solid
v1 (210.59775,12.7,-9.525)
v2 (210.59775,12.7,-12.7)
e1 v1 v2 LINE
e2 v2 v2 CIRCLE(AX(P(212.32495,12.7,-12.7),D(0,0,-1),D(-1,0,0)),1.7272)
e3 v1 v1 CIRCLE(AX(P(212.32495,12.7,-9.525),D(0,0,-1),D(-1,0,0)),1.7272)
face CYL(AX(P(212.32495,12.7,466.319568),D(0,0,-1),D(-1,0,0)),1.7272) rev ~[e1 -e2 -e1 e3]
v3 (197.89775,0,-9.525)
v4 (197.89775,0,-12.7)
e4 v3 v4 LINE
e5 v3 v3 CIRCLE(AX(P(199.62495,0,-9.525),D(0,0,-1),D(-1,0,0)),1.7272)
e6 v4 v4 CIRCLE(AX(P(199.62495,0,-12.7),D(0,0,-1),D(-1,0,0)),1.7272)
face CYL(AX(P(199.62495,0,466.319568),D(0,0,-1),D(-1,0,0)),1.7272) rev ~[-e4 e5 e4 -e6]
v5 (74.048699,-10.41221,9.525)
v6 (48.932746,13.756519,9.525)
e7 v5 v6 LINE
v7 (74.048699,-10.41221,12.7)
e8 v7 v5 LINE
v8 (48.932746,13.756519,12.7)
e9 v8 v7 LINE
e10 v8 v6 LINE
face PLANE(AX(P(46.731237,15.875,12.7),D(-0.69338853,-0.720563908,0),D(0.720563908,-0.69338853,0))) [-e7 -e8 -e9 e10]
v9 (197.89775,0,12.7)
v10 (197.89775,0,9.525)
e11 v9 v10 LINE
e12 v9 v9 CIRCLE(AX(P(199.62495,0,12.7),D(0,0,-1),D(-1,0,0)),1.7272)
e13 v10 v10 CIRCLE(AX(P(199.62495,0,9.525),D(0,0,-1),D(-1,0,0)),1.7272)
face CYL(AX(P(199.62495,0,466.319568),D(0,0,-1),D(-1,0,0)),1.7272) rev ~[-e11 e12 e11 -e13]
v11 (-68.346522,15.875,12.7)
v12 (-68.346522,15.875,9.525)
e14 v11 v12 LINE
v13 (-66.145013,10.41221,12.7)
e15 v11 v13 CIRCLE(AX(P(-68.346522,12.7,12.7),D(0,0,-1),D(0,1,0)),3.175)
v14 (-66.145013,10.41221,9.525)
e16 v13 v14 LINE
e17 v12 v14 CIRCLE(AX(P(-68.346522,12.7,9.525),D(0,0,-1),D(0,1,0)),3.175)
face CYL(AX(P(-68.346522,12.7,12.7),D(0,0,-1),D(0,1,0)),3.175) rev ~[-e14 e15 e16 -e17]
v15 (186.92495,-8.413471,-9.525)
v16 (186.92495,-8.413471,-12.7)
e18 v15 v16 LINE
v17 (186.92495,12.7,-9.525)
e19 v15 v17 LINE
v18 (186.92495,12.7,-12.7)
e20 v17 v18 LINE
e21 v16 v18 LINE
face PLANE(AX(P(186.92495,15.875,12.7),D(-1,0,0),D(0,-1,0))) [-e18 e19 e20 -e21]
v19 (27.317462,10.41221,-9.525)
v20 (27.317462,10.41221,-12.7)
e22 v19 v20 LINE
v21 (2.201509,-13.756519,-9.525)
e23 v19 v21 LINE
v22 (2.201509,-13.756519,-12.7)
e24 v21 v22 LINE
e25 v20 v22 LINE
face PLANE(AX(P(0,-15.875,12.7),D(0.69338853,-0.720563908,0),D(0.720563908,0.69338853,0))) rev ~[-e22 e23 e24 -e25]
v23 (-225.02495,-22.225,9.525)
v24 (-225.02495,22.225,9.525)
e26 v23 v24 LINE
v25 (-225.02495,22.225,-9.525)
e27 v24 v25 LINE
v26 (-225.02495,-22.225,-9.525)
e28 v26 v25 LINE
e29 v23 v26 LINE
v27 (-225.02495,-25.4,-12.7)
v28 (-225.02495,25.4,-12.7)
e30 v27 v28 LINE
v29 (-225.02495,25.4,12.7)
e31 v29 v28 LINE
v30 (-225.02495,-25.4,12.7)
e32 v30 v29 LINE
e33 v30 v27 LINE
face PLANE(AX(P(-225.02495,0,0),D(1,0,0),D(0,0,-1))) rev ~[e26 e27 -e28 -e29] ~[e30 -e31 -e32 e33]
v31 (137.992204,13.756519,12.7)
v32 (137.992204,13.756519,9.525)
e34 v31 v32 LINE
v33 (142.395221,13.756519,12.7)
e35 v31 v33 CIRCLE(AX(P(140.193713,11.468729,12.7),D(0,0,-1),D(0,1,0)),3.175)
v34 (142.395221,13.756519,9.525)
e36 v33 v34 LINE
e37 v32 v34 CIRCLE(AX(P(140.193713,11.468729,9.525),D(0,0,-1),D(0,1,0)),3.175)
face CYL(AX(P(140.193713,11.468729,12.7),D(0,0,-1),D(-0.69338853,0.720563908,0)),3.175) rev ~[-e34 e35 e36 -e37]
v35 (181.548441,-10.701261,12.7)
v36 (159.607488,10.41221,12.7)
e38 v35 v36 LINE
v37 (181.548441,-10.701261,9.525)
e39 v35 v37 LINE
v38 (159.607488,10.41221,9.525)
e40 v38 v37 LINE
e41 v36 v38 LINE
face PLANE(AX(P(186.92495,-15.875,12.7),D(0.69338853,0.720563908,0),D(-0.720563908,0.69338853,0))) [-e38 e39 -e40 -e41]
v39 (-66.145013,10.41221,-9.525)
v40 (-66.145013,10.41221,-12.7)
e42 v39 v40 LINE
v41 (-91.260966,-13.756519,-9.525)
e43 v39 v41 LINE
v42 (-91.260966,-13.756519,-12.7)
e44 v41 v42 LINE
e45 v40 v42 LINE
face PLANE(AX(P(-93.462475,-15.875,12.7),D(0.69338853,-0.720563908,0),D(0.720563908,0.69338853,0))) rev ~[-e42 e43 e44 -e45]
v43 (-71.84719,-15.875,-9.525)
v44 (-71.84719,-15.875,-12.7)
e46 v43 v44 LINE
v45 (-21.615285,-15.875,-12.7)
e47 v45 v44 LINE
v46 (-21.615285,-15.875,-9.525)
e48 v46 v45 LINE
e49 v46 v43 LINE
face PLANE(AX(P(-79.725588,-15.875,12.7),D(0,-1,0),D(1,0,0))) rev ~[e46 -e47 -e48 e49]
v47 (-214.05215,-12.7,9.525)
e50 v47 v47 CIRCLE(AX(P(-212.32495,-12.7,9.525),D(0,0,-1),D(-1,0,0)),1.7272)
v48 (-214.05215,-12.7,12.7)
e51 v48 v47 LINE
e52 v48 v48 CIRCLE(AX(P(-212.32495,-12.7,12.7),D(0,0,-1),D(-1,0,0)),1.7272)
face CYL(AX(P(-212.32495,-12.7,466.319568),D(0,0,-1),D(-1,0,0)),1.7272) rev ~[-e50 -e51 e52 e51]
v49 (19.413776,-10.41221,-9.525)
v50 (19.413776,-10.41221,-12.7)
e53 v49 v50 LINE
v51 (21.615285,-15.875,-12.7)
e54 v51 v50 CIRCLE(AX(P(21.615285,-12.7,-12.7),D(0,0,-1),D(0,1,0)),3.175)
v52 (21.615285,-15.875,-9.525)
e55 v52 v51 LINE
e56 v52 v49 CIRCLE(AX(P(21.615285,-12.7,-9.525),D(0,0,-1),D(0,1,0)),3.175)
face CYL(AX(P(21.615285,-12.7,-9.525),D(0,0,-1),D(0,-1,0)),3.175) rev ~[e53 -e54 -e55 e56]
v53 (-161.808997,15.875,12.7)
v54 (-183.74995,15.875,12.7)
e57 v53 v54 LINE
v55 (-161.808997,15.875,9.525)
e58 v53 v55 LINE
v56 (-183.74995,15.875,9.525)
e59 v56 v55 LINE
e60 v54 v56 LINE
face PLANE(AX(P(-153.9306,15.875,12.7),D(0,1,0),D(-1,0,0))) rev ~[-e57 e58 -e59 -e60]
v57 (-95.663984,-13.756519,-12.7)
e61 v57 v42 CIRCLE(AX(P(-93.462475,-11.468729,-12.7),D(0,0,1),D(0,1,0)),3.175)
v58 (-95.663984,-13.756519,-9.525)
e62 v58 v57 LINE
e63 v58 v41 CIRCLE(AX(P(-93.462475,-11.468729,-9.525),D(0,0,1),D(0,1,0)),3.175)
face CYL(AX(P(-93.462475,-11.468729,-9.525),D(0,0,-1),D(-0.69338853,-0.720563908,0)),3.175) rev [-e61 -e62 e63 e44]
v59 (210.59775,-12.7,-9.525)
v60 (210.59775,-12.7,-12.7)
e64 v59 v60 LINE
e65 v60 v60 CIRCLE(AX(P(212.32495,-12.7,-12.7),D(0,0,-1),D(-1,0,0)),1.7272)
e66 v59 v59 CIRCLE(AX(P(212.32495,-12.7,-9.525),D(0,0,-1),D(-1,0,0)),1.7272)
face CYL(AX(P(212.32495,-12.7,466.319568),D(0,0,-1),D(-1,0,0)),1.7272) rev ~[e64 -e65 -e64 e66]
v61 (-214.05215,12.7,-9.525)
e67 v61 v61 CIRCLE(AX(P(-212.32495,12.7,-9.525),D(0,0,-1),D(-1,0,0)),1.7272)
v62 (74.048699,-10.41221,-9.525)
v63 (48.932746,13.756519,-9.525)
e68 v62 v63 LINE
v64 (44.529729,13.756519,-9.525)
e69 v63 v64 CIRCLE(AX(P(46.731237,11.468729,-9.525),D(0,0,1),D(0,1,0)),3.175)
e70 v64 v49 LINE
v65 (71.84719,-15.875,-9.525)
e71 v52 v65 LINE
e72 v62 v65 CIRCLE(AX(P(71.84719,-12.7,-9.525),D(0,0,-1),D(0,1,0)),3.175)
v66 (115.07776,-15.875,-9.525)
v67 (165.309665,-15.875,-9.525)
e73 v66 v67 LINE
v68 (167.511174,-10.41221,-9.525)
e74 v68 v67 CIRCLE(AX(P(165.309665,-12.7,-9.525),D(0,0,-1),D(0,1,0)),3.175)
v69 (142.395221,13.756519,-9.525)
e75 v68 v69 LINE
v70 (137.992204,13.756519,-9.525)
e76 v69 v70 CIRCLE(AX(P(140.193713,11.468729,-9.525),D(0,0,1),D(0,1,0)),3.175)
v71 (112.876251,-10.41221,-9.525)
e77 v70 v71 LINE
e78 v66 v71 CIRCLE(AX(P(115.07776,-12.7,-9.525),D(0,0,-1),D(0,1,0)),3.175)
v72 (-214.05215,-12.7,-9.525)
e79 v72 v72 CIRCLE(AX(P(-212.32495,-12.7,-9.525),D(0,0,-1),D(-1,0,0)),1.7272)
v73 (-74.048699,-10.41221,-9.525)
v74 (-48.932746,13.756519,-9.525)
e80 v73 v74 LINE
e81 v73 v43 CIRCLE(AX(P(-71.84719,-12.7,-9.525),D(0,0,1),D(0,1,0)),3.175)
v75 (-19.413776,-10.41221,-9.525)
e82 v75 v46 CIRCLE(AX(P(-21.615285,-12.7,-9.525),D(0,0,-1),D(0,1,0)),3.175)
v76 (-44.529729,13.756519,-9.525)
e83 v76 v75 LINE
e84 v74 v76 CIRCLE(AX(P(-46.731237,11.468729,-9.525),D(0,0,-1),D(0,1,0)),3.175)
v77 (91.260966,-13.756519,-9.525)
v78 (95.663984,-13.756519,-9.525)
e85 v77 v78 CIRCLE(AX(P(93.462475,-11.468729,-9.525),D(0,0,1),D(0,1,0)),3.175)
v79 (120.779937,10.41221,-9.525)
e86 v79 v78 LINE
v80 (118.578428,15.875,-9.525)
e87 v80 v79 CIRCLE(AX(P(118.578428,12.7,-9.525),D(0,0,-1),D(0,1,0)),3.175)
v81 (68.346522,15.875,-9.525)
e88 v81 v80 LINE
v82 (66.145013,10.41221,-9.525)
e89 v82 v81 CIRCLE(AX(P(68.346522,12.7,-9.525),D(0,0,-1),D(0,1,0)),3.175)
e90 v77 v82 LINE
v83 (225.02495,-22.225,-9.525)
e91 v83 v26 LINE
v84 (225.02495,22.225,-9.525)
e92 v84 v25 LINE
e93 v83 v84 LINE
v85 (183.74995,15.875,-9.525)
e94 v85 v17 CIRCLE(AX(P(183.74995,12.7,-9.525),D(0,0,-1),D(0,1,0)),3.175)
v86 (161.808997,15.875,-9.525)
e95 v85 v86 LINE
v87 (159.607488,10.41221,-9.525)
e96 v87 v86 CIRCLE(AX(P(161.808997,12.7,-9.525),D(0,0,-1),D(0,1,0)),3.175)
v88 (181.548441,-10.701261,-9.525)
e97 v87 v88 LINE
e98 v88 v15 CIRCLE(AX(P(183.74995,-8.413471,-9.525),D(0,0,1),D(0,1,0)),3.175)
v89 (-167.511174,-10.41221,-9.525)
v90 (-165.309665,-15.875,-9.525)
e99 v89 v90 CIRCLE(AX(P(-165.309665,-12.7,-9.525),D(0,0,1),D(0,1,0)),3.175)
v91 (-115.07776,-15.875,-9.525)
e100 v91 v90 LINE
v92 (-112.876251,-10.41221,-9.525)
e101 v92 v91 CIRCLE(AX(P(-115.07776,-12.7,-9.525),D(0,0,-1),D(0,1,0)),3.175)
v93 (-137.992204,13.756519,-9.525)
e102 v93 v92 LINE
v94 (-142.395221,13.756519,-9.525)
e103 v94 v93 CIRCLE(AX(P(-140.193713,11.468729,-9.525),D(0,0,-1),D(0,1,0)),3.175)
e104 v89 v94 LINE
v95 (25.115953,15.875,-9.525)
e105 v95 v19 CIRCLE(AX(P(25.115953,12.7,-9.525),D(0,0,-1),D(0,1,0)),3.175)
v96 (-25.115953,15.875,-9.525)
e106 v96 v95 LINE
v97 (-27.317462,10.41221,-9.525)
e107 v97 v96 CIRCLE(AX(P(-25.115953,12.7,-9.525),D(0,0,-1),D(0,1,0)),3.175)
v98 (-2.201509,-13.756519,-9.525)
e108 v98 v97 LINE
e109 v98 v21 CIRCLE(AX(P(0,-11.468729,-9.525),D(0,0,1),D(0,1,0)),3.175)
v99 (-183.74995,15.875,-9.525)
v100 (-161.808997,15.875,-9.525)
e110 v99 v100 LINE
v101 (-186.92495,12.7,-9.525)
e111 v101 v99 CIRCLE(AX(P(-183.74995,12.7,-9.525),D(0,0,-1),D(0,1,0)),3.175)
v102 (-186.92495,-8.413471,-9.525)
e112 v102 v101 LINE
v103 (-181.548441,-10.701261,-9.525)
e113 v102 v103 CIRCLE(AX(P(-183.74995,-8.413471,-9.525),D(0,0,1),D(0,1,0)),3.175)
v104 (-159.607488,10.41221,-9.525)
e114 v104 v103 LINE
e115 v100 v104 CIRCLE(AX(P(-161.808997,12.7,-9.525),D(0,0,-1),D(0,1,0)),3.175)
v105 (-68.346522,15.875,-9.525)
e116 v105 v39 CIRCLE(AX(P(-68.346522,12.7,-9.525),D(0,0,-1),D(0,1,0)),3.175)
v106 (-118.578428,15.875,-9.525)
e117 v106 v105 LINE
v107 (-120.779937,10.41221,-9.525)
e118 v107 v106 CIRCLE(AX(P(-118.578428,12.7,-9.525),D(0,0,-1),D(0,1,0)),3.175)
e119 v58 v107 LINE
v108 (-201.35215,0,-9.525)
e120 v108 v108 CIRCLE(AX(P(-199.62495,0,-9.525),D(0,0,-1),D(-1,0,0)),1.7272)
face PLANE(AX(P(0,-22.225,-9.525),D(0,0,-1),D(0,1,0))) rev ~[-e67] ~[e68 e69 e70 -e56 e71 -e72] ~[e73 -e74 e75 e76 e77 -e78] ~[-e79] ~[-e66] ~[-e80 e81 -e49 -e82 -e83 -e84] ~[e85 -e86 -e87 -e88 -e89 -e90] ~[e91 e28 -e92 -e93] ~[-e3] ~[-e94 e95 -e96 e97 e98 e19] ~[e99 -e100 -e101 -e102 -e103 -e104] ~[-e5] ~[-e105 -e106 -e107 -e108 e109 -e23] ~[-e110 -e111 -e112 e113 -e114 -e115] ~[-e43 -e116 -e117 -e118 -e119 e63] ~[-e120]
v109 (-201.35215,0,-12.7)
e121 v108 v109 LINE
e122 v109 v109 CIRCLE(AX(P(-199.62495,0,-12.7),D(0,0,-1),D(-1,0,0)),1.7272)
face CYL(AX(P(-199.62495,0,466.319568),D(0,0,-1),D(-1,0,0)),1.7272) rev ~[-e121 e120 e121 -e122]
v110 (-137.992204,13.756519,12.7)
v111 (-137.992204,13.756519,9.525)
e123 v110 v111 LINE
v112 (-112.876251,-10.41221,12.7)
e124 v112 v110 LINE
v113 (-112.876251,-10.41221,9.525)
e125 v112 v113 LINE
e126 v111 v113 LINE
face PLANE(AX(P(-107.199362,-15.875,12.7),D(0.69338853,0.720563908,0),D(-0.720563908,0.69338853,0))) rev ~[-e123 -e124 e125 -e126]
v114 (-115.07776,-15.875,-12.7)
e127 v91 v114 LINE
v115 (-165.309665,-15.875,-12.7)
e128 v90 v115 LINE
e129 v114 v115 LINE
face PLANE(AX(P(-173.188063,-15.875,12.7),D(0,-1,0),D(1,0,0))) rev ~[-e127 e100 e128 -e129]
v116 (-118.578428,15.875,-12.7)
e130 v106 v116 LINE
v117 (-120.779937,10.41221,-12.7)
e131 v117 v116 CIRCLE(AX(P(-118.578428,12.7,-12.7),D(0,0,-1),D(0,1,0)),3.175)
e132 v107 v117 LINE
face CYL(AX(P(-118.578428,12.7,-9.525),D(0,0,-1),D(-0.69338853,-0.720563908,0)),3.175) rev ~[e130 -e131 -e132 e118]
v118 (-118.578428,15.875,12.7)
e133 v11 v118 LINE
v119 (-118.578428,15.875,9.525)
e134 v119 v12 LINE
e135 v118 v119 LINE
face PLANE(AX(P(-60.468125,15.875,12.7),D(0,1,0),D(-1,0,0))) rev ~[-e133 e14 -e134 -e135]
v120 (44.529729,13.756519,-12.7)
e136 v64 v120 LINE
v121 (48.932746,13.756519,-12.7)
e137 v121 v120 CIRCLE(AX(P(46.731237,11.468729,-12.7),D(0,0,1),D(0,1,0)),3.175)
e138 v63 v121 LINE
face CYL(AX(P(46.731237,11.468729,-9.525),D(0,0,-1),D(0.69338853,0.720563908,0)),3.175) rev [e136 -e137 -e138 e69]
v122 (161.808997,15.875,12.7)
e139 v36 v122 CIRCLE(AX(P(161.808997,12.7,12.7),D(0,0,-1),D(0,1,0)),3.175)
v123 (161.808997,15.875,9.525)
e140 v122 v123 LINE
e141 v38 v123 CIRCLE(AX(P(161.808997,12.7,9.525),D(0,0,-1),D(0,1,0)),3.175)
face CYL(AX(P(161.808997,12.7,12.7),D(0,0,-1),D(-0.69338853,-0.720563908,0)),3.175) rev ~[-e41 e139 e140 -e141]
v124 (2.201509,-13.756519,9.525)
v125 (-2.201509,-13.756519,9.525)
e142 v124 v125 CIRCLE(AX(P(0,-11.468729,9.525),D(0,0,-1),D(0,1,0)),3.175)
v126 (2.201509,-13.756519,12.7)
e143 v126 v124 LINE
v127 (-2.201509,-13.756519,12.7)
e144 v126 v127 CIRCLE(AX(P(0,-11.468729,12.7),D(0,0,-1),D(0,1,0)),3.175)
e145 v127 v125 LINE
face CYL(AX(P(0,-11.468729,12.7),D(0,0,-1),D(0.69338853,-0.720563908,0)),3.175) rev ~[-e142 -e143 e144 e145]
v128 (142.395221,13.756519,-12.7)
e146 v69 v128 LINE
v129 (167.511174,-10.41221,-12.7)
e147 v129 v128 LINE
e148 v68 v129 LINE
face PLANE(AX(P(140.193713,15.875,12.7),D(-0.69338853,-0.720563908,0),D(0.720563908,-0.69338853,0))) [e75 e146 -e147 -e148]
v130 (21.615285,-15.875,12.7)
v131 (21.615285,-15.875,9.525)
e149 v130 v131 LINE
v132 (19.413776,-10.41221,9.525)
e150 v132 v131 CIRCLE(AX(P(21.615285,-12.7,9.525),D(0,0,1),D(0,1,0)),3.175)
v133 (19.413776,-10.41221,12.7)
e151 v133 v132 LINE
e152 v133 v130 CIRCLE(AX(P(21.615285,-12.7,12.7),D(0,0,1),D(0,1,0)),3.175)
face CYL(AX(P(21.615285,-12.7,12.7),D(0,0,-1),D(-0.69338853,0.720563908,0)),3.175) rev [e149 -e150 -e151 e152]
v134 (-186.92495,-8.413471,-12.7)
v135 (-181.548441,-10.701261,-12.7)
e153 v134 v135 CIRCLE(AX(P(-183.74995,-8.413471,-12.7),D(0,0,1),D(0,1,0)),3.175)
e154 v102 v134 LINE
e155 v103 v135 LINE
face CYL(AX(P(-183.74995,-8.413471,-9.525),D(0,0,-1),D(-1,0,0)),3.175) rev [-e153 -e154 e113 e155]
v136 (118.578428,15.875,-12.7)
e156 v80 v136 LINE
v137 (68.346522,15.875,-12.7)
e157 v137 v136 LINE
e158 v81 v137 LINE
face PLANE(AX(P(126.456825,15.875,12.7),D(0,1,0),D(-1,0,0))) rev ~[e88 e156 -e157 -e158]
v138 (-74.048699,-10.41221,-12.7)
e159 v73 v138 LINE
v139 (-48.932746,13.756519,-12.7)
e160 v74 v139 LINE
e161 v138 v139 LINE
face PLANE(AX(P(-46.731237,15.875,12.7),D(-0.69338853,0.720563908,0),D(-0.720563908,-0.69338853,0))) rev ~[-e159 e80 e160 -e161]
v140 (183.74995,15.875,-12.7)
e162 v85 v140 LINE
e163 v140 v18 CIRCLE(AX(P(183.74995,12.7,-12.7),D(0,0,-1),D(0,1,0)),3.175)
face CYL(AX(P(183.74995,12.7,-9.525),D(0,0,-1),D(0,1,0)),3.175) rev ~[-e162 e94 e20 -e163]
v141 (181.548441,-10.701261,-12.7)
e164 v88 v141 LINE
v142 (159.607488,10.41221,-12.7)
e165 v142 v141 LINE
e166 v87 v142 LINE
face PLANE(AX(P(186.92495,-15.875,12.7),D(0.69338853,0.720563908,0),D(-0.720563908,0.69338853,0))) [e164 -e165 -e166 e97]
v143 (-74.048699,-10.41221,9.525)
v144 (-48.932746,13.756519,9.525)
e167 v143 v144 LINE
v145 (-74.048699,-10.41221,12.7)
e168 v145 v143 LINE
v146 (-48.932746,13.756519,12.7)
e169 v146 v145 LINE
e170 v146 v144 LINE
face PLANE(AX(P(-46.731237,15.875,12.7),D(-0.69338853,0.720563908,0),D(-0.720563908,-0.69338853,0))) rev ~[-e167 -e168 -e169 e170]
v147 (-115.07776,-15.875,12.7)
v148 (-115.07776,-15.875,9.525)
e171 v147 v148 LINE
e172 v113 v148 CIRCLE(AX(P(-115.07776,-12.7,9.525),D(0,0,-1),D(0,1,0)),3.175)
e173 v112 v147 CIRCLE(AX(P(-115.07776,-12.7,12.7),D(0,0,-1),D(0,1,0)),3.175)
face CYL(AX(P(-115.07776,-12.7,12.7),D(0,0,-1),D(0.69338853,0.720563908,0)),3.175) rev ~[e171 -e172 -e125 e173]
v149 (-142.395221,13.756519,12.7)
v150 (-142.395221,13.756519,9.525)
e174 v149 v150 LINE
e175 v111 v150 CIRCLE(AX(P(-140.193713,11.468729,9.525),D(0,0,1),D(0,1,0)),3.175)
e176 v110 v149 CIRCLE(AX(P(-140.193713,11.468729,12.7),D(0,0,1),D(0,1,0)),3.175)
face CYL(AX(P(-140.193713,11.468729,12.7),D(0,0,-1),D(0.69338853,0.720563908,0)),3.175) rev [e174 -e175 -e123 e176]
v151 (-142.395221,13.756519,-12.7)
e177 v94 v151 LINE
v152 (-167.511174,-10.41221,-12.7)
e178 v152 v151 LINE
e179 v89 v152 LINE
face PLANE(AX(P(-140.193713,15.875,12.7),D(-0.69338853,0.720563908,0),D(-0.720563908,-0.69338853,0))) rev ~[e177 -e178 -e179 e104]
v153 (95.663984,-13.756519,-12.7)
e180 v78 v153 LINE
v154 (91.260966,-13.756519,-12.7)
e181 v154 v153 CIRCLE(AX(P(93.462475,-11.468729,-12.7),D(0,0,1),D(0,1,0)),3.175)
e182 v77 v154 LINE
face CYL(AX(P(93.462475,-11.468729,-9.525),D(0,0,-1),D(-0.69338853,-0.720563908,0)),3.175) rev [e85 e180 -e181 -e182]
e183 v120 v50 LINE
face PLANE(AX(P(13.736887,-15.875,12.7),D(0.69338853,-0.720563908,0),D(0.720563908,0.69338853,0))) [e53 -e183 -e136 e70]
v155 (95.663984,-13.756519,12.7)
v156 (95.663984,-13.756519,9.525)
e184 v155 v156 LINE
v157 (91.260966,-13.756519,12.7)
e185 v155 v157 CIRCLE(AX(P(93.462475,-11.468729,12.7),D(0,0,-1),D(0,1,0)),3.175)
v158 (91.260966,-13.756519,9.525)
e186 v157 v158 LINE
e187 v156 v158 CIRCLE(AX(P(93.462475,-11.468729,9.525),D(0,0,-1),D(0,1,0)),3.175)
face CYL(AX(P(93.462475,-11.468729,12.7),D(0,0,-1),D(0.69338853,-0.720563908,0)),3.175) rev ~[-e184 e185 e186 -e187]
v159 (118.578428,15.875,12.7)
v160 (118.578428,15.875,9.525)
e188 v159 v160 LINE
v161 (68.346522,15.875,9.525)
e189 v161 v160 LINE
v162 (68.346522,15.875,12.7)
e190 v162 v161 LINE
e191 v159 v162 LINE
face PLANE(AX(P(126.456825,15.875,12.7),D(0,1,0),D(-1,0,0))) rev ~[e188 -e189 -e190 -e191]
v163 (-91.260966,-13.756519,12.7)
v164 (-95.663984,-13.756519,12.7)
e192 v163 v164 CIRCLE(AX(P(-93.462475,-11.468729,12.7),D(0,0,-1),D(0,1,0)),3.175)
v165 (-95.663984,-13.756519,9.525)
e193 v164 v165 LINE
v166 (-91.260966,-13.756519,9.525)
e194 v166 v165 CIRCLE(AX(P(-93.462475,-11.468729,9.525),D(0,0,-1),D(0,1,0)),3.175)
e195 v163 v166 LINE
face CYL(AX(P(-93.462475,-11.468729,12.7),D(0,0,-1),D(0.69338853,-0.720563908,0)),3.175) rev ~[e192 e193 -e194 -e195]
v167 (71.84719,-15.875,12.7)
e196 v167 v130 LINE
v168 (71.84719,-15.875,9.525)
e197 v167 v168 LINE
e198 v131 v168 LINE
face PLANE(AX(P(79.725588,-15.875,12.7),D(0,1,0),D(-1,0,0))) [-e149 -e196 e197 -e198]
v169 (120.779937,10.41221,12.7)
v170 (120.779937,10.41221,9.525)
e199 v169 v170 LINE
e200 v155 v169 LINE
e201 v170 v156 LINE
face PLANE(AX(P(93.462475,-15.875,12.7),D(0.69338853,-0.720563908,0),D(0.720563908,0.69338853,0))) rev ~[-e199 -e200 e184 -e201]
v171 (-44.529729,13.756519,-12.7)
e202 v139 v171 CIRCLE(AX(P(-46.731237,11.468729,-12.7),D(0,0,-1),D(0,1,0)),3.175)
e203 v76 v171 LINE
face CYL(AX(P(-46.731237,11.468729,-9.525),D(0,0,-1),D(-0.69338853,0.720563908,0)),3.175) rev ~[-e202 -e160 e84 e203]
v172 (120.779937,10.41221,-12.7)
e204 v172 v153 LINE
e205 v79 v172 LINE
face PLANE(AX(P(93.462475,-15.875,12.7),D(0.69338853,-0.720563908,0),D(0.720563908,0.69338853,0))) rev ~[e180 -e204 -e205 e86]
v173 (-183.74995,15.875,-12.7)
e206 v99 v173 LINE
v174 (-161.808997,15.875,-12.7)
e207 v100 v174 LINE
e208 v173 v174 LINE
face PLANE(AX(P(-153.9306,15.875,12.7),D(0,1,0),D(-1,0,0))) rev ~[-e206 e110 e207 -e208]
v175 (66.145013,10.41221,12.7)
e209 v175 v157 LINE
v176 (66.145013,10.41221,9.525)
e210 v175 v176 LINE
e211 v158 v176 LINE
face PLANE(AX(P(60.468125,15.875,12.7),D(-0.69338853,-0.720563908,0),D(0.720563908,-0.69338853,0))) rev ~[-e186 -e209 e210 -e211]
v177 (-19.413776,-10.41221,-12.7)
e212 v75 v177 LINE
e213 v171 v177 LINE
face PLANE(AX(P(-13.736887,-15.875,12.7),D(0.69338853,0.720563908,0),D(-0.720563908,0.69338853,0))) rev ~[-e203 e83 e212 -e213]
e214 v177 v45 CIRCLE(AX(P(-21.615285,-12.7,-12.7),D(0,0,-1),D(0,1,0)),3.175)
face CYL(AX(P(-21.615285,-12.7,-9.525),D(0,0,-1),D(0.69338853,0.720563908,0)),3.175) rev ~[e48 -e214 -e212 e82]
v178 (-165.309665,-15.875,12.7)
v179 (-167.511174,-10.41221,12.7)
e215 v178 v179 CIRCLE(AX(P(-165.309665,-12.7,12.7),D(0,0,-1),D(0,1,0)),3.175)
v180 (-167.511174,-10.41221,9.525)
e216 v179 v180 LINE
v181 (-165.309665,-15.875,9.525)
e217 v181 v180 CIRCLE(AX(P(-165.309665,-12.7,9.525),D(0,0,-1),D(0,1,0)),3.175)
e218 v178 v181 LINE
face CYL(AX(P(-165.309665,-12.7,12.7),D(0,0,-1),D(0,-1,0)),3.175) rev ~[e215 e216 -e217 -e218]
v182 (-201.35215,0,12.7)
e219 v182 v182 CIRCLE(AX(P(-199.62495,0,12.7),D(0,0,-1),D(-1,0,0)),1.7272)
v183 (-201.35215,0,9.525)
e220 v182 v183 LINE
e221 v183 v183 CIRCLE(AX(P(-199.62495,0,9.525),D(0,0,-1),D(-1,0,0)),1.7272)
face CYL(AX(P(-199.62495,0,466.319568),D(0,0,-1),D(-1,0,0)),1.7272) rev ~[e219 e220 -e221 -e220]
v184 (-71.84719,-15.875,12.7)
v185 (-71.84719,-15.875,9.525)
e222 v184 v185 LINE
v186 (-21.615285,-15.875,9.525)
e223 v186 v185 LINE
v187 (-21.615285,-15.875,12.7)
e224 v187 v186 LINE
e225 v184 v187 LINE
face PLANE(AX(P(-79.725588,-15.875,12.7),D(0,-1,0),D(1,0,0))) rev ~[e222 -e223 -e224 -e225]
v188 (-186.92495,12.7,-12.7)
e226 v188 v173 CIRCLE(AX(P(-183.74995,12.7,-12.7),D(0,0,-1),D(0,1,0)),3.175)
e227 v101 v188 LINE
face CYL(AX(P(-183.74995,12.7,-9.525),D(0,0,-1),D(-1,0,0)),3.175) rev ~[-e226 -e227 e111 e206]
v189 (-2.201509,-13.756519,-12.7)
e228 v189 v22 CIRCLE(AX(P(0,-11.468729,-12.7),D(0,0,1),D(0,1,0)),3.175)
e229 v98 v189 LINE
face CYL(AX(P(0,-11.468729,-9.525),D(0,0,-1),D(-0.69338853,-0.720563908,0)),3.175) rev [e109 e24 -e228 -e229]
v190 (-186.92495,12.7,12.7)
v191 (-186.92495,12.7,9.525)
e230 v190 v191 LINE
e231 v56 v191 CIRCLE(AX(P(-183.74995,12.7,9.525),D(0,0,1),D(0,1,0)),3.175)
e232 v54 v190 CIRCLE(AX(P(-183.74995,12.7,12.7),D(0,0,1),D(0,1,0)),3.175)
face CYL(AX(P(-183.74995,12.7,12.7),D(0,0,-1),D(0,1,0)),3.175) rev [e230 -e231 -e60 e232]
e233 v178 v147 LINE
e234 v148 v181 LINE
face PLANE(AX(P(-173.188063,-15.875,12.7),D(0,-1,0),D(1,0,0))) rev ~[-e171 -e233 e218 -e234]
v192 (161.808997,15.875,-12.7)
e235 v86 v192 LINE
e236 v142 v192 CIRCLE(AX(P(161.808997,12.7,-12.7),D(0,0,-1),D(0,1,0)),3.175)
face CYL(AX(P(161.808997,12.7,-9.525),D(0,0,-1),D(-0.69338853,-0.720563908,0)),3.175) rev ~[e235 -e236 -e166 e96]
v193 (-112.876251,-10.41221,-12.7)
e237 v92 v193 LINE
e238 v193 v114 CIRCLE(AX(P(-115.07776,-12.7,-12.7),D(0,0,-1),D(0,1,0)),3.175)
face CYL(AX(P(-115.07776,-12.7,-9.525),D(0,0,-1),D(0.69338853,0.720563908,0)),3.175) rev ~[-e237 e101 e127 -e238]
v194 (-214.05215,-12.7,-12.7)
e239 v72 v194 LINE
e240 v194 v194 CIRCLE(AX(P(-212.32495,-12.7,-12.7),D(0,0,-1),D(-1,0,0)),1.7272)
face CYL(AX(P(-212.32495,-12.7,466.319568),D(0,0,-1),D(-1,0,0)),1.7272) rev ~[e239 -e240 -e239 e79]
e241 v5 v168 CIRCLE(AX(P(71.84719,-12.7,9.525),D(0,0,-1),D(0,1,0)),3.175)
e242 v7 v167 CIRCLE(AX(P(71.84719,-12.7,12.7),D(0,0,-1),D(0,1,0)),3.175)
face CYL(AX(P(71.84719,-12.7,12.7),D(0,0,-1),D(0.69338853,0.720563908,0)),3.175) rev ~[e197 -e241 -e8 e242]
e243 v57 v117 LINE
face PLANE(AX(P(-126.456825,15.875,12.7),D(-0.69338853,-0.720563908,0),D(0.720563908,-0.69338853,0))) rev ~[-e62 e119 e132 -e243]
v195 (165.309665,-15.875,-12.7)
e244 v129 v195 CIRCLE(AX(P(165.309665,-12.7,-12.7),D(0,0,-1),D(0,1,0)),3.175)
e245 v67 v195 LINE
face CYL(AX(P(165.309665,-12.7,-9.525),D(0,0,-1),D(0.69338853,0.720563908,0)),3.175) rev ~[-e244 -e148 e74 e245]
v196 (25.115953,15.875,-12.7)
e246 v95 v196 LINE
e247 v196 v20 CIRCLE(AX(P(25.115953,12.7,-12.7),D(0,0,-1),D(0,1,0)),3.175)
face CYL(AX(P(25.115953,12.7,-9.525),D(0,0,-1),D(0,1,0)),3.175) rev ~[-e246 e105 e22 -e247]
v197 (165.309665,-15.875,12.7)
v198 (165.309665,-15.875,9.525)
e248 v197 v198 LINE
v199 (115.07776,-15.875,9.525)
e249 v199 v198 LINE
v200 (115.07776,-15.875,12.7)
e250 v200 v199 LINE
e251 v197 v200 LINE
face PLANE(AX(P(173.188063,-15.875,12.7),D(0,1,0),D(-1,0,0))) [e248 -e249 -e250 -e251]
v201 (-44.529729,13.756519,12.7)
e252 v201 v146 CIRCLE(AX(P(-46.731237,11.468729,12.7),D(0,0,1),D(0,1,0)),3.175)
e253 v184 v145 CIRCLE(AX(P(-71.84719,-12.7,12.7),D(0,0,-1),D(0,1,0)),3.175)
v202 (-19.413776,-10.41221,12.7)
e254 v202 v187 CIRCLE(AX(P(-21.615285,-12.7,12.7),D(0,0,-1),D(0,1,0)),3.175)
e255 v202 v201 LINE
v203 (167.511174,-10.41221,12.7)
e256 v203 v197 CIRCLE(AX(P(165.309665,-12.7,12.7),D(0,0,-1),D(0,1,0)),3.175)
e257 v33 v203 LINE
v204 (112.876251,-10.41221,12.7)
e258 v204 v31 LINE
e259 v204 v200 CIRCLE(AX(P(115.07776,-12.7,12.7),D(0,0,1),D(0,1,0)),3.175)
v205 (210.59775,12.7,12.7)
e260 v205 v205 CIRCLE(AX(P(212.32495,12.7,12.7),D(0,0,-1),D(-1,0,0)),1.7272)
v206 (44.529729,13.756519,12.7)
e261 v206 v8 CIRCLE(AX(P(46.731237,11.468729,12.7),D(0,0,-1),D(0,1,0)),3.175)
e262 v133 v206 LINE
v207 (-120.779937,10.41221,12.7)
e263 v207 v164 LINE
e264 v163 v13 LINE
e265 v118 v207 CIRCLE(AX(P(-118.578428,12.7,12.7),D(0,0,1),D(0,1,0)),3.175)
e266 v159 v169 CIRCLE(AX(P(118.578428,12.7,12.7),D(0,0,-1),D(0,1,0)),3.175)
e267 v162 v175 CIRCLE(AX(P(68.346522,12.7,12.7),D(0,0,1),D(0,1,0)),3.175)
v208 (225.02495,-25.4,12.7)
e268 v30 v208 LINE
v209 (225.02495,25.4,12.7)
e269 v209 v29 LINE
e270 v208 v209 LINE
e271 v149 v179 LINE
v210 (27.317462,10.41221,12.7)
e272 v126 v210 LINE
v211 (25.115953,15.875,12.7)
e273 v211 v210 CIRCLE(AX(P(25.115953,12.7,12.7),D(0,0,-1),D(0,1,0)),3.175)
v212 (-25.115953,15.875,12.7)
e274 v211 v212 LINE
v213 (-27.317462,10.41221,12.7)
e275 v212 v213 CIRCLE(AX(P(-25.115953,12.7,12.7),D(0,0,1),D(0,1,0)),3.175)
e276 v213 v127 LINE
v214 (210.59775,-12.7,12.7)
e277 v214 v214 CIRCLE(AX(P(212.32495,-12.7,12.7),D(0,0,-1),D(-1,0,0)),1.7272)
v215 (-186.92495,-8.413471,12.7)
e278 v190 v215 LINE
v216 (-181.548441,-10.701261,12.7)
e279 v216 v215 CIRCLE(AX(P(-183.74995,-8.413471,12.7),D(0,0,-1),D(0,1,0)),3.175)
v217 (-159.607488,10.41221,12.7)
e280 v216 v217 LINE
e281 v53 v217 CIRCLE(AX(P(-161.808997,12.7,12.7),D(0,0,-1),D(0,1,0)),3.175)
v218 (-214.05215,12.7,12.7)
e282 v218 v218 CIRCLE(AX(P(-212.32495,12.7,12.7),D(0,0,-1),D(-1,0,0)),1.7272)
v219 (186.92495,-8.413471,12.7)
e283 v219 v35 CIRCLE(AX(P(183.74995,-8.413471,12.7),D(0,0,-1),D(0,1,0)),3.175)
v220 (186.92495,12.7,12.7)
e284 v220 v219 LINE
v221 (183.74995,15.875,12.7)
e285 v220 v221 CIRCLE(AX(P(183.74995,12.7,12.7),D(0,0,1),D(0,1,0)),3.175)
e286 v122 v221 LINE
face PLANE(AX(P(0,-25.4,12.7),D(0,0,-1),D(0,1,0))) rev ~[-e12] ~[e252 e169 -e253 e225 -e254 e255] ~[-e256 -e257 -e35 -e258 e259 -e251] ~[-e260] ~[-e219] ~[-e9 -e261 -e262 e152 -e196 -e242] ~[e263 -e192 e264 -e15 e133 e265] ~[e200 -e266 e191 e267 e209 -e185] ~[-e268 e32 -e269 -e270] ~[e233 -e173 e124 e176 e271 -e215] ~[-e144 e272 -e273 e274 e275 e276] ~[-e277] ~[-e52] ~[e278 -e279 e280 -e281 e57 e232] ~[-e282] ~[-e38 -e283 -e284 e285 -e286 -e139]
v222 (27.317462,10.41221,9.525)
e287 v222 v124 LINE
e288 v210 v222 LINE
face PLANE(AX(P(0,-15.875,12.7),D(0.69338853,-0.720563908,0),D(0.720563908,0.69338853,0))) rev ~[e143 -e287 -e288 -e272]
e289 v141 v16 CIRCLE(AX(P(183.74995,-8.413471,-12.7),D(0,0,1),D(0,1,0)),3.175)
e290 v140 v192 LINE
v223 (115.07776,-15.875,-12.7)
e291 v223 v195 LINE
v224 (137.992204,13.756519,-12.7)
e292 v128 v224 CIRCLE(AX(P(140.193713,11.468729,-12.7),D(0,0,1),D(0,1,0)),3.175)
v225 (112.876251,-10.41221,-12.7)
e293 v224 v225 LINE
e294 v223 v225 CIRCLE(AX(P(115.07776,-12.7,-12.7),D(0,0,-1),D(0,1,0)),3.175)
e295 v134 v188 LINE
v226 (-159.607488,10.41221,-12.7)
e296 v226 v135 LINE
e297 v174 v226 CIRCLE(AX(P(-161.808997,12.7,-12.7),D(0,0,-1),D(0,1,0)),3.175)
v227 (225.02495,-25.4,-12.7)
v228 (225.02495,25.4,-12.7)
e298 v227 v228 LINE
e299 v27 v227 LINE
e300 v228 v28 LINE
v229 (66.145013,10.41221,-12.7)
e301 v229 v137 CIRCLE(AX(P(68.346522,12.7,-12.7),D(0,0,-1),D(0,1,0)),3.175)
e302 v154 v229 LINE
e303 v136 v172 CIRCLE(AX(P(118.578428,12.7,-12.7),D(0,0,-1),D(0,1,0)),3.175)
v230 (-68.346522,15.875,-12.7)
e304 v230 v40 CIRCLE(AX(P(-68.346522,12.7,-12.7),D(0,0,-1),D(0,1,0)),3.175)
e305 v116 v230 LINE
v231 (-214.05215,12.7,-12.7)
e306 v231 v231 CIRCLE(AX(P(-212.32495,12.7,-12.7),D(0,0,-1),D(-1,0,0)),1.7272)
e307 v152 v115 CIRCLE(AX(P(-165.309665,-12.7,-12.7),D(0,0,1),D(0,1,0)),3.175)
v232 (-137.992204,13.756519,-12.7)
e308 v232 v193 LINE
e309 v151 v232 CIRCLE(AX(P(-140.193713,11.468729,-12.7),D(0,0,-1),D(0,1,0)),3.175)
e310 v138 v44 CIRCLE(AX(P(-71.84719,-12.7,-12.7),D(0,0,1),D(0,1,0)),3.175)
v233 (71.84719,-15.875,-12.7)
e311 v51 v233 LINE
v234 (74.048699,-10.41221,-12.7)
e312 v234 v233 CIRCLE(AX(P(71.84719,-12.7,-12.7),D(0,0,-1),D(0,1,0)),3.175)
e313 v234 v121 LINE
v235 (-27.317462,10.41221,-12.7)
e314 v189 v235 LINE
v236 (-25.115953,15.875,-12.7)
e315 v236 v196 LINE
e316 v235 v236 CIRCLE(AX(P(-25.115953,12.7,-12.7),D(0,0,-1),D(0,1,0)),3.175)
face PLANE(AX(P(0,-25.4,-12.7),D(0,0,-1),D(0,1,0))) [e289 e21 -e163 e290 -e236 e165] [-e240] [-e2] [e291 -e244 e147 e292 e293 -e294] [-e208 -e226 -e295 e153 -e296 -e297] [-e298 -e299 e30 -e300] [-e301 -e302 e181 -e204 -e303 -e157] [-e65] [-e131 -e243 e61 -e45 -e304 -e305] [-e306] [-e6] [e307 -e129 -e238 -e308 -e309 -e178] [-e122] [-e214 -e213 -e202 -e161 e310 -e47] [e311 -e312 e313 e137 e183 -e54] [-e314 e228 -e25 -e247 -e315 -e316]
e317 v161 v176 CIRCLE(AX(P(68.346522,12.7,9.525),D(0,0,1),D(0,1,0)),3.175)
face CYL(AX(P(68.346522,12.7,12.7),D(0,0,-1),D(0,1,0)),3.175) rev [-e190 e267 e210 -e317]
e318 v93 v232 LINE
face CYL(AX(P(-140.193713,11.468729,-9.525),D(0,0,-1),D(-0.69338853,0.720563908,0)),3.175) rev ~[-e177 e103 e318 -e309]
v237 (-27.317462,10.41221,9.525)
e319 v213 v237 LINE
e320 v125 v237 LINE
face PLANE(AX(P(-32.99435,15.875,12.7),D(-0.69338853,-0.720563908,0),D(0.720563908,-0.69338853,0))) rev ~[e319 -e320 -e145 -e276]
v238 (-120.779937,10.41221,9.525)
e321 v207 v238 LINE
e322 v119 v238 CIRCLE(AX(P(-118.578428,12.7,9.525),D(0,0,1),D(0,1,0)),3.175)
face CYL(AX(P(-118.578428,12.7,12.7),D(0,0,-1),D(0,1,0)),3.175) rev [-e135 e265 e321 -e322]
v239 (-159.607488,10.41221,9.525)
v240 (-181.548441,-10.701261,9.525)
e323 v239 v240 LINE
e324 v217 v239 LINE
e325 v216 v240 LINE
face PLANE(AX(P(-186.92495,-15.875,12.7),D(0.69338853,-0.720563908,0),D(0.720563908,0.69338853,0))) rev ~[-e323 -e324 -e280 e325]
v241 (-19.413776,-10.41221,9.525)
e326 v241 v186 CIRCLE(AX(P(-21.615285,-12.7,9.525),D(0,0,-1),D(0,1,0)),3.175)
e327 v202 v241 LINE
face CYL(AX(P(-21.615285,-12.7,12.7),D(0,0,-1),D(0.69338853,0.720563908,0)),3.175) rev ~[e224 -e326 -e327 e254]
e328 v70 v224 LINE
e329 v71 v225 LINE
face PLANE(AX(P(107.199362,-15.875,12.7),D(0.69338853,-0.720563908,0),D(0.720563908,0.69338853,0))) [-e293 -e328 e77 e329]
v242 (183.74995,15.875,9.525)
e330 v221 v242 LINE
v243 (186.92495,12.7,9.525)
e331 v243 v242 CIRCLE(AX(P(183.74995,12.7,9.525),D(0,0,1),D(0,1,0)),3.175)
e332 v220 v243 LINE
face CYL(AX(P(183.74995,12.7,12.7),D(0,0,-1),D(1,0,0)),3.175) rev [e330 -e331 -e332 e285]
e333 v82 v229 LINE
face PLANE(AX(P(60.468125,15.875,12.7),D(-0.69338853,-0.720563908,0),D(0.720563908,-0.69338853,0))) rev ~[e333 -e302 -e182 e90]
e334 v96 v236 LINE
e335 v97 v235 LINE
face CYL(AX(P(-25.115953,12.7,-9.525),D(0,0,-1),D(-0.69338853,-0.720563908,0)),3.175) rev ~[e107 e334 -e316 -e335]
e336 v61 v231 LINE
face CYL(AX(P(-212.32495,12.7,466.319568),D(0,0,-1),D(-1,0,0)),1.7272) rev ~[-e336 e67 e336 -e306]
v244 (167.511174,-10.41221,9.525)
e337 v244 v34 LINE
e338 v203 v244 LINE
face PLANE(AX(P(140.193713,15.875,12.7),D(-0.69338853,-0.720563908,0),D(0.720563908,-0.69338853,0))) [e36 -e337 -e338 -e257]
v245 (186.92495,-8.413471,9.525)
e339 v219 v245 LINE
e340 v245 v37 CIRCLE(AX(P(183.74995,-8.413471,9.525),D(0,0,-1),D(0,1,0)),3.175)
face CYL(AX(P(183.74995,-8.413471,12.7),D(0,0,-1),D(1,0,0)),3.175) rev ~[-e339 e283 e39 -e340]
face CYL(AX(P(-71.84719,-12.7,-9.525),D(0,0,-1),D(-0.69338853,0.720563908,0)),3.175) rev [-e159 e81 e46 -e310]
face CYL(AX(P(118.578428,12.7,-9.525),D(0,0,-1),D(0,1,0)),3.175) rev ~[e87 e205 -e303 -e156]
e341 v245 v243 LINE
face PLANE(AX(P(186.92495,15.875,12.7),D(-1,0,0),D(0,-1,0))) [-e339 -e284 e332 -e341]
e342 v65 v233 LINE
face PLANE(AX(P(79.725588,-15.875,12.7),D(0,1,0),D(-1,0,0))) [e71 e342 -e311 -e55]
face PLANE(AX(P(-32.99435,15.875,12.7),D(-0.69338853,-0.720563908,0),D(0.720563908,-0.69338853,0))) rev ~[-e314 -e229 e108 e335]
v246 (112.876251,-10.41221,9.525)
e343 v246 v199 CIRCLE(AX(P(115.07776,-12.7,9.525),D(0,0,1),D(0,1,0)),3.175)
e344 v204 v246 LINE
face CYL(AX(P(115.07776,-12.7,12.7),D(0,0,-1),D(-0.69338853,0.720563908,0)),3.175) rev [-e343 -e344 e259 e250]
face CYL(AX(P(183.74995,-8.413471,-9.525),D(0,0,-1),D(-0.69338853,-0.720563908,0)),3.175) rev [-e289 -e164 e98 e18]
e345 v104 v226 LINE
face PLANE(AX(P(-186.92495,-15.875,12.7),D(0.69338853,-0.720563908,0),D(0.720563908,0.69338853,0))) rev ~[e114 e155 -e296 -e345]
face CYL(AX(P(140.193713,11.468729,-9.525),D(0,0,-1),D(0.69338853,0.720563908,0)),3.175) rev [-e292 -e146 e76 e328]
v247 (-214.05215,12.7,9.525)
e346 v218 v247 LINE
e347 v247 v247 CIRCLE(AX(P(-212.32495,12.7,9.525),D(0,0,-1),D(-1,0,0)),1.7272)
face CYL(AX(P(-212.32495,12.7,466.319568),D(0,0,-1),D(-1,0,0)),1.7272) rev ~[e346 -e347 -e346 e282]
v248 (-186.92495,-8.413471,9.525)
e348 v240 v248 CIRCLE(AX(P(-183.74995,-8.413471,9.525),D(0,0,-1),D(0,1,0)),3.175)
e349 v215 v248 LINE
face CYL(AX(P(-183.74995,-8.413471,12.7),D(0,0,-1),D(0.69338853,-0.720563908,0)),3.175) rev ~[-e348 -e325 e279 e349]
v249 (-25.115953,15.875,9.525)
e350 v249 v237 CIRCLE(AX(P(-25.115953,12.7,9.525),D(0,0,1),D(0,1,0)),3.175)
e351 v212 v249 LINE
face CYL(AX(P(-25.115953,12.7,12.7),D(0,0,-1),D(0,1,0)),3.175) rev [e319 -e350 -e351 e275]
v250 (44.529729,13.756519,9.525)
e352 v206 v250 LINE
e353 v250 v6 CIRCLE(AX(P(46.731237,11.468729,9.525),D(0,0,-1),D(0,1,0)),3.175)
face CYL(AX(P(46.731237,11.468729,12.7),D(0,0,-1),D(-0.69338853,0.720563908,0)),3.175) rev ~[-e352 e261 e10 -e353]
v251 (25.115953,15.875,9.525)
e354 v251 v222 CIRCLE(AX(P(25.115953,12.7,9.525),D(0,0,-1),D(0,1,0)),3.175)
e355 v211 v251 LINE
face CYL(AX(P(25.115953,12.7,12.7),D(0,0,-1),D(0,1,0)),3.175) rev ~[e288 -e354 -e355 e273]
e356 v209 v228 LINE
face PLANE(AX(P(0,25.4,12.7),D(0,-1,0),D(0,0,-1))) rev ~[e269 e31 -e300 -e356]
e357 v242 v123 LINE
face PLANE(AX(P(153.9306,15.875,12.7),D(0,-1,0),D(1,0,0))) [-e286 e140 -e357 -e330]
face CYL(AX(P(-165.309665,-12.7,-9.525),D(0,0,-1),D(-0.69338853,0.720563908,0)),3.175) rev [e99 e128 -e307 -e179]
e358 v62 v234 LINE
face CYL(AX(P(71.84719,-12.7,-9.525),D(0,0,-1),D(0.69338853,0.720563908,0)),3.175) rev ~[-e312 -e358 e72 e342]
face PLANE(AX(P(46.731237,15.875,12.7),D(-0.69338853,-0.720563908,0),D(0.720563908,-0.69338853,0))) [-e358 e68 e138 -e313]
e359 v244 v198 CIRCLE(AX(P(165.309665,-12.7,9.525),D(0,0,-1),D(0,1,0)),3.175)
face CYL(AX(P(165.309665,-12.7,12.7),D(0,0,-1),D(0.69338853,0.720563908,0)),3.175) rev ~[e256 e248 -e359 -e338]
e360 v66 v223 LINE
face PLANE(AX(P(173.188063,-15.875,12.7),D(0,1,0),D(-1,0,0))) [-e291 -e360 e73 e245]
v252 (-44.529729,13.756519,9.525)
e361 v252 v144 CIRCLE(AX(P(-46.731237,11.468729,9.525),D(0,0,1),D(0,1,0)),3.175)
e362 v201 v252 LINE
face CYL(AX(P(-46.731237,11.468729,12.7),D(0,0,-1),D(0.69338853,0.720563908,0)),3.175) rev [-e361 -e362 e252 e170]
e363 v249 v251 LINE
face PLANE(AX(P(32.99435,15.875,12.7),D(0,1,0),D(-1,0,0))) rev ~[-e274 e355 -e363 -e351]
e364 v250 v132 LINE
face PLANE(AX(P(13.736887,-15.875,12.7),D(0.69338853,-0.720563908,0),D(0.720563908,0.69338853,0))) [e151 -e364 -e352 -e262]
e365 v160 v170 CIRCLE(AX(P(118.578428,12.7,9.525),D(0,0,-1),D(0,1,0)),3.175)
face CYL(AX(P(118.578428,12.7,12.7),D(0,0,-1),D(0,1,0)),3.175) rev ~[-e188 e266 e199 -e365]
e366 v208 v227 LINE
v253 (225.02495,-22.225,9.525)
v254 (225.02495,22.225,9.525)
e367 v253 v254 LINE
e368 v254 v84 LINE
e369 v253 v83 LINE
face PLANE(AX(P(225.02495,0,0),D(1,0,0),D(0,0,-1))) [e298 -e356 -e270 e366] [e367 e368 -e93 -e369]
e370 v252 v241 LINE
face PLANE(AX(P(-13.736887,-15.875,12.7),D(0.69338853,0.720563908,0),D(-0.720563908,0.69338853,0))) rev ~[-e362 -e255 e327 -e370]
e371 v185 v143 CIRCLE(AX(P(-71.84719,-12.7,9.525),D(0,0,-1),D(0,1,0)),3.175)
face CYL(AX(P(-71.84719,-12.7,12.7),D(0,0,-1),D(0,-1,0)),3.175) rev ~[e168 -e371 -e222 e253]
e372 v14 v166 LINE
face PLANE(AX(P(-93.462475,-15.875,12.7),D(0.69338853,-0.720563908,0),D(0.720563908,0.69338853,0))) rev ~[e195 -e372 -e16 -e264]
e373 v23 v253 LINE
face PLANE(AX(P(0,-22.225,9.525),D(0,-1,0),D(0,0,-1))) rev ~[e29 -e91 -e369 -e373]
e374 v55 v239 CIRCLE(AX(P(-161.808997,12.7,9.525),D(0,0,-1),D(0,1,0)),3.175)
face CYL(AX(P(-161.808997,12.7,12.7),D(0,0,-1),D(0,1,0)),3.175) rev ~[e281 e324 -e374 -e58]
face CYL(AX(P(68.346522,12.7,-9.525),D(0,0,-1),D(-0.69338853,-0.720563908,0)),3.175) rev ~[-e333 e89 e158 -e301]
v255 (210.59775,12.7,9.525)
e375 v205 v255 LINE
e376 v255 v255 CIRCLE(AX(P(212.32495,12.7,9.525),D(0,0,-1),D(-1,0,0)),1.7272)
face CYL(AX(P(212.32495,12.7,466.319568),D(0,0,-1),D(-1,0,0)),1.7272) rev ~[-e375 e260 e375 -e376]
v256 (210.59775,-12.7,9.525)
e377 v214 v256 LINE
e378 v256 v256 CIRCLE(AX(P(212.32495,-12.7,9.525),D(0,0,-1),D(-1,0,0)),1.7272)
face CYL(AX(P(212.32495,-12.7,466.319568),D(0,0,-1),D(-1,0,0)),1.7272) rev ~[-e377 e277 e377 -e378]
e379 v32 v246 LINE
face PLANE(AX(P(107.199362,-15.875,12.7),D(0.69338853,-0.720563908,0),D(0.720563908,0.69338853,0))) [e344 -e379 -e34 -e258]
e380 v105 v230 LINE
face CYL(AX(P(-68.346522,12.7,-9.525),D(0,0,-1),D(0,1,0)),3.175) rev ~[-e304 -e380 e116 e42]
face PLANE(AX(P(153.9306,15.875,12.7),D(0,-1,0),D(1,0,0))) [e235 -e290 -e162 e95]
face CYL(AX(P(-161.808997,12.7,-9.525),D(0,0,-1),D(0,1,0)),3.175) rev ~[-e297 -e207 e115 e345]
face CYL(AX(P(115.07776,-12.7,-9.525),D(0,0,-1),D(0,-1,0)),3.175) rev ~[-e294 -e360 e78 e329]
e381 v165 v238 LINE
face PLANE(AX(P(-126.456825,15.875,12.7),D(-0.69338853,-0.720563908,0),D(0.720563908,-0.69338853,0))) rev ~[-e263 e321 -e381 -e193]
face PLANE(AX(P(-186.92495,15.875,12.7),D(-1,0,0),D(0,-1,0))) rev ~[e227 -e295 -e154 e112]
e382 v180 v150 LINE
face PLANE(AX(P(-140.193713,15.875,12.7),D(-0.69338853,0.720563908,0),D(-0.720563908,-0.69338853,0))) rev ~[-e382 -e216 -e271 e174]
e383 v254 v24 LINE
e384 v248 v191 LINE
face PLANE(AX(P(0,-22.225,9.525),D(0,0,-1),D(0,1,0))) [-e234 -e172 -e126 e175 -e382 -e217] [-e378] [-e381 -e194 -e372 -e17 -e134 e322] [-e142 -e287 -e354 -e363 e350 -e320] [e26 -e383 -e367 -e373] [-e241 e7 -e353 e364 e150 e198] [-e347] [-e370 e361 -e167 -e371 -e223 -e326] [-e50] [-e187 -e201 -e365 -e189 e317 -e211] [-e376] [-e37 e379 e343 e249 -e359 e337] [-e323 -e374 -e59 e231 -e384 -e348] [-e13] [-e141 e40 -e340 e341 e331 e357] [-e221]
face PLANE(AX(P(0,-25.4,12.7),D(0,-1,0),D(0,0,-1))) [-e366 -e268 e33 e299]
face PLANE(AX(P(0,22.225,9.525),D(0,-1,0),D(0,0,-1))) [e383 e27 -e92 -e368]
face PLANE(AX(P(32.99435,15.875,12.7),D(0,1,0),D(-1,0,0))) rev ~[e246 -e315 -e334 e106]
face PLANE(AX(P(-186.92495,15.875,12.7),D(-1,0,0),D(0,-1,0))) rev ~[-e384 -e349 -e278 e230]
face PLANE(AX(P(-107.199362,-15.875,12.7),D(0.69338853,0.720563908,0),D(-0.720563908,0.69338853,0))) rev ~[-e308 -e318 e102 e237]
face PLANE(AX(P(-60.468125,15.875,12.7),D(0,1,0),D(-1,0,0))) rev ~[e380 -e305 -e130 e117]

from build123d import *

# Parameters (mm, degrees)
SKETCH1_W             = 25.4
SKETCH1_H             = 50.8
SKETCH1_W_2           = 19.05
SKETCH1_H_2           = 44.45
BOSS_EXTRUDE1_DEPTH   = 225.02495
F_8_32_TAPPED_HOLE1_D = 3.4544
CUT_EXTRUDE1_DEPTH    = 228.873974211
FILLET1_R             = 3.175


with BuildPart() as part:
    # Sketch1 → Boss-Extrude1 (new, symmetric)
    with BuildSketch(Plane(origin=(0, 0, 0), x_dir=(0, 0, -1), z_dir=(1, 0, 0))):
        Rectangle(SKETCH1_W, SKETCH1_H)
        Rectangle(SKETCH1_W_2, SKETCH1_H_2, mode=Mode.SUBTRACT)
    extrude(amount=BOSS_EXTRUDE1_DEPTH, both=True)

    # #8-32 Tapped Hole1 (through all)
    with Locations(Plane.XY.offset(12.7)):
        with Locations((-212.32495, 12.7), (-212.32495, -12.7), (-199.62495, 0), (212.32495, 12.7), (199.62495, 0), (212.32495, -12.7)):
            Hole(F_8_32_TAPPED_HOLE1_D / 2)

    # Sketch4 → Cut-Extrude1 (cut, through all)
    with BuildSketch(Plane.XY.offset(12.7)):
        Polygon((-186.92495, 15.875), (-186.92495, -15.875), (-153.930599661, 15.875), align=None)
        Polygon((-140.1937125, 15.875), (-173.188062839, -15.875), (-107.199362161, -15.875), align=None)
        Polygon((-126.456825339, 15.875), (-93.462475, -15.875), (-60.468124661, 15.875), align=None)
        Polygon((-46.7312375, 15.875), (-79.725587839, -15.875), (-13.736887161, -15.875), align=None)
        Polygon((-32.994350339, 15.875), (0, -15.875), (32.994350339, 15.875), align=None)
        Polygon((13.736887161, -15.875), (46.7312375, 15.875), (79.725587839, -15.875), align=None)
        Polygon((60.468124661, 15.875), (93.462475, -15.875), (126.456825339, 15.875), align=None)
        Polygon((107.199362161, -15.875), (140.1937125, 15.875), (173.188062839, -15.875), align=None)
        Polygon((186.92495, 15.875), (186.92495, -15.875), (153.930599661, 15.875), align=None)
    extrude(amount=-CUT_EXTRUDE1_DEPTH, mode=Mode.SUBTRACT)

    # Fillet1
    fillet1_edges = [part.edges().sort_by_distance(p)[0] for p in [
        (-186.92495, 15.875, -11.1125),
        (-153.930599661, 15.875, -11.1125),
        (-186.92495, -15.875, -11.1125),
        (-186.92495, 15.875, 11.1125),
        (-153.930599661, 15.875, 11.1125),
        (-186.92495, -15.875, 11.1125),
        (-140.1937125, 15.875, -11.1125),
        (-107.199362161, -15.875, -11.1125),
        (-173.188062839, -15.875, -11.1125),
        (-140.1937125, 15.875, 11.1125),
        (-107.199362161, -15.875, 11.1125),
        (-173.188062839, -15.875, 11.1125),
        (-126.456825339, 15.875, -11.1125),
        (-60.468124661, 15.875, -11.1125),
        (-93.462475, -15.875, -11.1125),
        (-126.456825339, 15.875, 11.1125),
        (-60.468124661, 15.875, 11.1125),
        (-93.462475, -15.875, 11.1125),
        (-46.7312375, 15.875, -11.1125),
        (-13.736887161, -15.875, -11.1125),
        (-79.725587839, -15.875, -11.1125),
        (-46.7312375, 15.875, 11.1125),
        (-13.736887161, -15.875, 11.1125),
        (-79.725587839, -15.875, 11.1125),
        (-32.994350339, 15.875, -11.1125),
        (32.994350339, 15.875, -11.1125),
        (0, -15.875, -11.1125),
        (-32.994350339, 15.875, 11.1125),
        (32.994350339, 15.875, 11.1125),
        (0, -15.875, 11.1125),
        (79.725587839, -15.875, -11.1125),
        (13.736887161, -15.875, -11.1125),
        (46.7312375, 15.875, -11.1125),
        (79.725587839, -15.875, 11.1125),
        (13.736887161, -15.875, 11.1125),
        (46.7312375, 15.875, 11.1125),
        (60.468124661, 15.875, -11.1125),
        (126.456825339, 15.875, -11.1125),
        (93.462475, -15.875, -11.1125),
        (60.468124661, 15.875, 11.1125),
        (126.456825339, 15.875, 11.1125),
        (93.462475, -15.875, 11.1125),
        (173.188062839, -15.875, -11.1125),
        (107.199362161, -15.875, -11.1125),
        (140.1937125, 15.875, -11.1125),
        (173.188062839, -15.875, 11.1125),
        (107.199362161, -15.875, 11.1125),
        (140.1937125, 15.875, 11.1125),
        (153.930599661, 15.875, -11.1125),
        (186.92495, 15.875, -11.1125),
        (186.92495, -15.875, -11.1125),
        (153.930599661, 15.875, 11.1125),
        (186.92495, 15.875, 11.1125),
        (186.92495, -15.875, 11.1125),
    ]]
    fillet(fillet1_edges, radius=FILLET1_R)


solid = part.part
